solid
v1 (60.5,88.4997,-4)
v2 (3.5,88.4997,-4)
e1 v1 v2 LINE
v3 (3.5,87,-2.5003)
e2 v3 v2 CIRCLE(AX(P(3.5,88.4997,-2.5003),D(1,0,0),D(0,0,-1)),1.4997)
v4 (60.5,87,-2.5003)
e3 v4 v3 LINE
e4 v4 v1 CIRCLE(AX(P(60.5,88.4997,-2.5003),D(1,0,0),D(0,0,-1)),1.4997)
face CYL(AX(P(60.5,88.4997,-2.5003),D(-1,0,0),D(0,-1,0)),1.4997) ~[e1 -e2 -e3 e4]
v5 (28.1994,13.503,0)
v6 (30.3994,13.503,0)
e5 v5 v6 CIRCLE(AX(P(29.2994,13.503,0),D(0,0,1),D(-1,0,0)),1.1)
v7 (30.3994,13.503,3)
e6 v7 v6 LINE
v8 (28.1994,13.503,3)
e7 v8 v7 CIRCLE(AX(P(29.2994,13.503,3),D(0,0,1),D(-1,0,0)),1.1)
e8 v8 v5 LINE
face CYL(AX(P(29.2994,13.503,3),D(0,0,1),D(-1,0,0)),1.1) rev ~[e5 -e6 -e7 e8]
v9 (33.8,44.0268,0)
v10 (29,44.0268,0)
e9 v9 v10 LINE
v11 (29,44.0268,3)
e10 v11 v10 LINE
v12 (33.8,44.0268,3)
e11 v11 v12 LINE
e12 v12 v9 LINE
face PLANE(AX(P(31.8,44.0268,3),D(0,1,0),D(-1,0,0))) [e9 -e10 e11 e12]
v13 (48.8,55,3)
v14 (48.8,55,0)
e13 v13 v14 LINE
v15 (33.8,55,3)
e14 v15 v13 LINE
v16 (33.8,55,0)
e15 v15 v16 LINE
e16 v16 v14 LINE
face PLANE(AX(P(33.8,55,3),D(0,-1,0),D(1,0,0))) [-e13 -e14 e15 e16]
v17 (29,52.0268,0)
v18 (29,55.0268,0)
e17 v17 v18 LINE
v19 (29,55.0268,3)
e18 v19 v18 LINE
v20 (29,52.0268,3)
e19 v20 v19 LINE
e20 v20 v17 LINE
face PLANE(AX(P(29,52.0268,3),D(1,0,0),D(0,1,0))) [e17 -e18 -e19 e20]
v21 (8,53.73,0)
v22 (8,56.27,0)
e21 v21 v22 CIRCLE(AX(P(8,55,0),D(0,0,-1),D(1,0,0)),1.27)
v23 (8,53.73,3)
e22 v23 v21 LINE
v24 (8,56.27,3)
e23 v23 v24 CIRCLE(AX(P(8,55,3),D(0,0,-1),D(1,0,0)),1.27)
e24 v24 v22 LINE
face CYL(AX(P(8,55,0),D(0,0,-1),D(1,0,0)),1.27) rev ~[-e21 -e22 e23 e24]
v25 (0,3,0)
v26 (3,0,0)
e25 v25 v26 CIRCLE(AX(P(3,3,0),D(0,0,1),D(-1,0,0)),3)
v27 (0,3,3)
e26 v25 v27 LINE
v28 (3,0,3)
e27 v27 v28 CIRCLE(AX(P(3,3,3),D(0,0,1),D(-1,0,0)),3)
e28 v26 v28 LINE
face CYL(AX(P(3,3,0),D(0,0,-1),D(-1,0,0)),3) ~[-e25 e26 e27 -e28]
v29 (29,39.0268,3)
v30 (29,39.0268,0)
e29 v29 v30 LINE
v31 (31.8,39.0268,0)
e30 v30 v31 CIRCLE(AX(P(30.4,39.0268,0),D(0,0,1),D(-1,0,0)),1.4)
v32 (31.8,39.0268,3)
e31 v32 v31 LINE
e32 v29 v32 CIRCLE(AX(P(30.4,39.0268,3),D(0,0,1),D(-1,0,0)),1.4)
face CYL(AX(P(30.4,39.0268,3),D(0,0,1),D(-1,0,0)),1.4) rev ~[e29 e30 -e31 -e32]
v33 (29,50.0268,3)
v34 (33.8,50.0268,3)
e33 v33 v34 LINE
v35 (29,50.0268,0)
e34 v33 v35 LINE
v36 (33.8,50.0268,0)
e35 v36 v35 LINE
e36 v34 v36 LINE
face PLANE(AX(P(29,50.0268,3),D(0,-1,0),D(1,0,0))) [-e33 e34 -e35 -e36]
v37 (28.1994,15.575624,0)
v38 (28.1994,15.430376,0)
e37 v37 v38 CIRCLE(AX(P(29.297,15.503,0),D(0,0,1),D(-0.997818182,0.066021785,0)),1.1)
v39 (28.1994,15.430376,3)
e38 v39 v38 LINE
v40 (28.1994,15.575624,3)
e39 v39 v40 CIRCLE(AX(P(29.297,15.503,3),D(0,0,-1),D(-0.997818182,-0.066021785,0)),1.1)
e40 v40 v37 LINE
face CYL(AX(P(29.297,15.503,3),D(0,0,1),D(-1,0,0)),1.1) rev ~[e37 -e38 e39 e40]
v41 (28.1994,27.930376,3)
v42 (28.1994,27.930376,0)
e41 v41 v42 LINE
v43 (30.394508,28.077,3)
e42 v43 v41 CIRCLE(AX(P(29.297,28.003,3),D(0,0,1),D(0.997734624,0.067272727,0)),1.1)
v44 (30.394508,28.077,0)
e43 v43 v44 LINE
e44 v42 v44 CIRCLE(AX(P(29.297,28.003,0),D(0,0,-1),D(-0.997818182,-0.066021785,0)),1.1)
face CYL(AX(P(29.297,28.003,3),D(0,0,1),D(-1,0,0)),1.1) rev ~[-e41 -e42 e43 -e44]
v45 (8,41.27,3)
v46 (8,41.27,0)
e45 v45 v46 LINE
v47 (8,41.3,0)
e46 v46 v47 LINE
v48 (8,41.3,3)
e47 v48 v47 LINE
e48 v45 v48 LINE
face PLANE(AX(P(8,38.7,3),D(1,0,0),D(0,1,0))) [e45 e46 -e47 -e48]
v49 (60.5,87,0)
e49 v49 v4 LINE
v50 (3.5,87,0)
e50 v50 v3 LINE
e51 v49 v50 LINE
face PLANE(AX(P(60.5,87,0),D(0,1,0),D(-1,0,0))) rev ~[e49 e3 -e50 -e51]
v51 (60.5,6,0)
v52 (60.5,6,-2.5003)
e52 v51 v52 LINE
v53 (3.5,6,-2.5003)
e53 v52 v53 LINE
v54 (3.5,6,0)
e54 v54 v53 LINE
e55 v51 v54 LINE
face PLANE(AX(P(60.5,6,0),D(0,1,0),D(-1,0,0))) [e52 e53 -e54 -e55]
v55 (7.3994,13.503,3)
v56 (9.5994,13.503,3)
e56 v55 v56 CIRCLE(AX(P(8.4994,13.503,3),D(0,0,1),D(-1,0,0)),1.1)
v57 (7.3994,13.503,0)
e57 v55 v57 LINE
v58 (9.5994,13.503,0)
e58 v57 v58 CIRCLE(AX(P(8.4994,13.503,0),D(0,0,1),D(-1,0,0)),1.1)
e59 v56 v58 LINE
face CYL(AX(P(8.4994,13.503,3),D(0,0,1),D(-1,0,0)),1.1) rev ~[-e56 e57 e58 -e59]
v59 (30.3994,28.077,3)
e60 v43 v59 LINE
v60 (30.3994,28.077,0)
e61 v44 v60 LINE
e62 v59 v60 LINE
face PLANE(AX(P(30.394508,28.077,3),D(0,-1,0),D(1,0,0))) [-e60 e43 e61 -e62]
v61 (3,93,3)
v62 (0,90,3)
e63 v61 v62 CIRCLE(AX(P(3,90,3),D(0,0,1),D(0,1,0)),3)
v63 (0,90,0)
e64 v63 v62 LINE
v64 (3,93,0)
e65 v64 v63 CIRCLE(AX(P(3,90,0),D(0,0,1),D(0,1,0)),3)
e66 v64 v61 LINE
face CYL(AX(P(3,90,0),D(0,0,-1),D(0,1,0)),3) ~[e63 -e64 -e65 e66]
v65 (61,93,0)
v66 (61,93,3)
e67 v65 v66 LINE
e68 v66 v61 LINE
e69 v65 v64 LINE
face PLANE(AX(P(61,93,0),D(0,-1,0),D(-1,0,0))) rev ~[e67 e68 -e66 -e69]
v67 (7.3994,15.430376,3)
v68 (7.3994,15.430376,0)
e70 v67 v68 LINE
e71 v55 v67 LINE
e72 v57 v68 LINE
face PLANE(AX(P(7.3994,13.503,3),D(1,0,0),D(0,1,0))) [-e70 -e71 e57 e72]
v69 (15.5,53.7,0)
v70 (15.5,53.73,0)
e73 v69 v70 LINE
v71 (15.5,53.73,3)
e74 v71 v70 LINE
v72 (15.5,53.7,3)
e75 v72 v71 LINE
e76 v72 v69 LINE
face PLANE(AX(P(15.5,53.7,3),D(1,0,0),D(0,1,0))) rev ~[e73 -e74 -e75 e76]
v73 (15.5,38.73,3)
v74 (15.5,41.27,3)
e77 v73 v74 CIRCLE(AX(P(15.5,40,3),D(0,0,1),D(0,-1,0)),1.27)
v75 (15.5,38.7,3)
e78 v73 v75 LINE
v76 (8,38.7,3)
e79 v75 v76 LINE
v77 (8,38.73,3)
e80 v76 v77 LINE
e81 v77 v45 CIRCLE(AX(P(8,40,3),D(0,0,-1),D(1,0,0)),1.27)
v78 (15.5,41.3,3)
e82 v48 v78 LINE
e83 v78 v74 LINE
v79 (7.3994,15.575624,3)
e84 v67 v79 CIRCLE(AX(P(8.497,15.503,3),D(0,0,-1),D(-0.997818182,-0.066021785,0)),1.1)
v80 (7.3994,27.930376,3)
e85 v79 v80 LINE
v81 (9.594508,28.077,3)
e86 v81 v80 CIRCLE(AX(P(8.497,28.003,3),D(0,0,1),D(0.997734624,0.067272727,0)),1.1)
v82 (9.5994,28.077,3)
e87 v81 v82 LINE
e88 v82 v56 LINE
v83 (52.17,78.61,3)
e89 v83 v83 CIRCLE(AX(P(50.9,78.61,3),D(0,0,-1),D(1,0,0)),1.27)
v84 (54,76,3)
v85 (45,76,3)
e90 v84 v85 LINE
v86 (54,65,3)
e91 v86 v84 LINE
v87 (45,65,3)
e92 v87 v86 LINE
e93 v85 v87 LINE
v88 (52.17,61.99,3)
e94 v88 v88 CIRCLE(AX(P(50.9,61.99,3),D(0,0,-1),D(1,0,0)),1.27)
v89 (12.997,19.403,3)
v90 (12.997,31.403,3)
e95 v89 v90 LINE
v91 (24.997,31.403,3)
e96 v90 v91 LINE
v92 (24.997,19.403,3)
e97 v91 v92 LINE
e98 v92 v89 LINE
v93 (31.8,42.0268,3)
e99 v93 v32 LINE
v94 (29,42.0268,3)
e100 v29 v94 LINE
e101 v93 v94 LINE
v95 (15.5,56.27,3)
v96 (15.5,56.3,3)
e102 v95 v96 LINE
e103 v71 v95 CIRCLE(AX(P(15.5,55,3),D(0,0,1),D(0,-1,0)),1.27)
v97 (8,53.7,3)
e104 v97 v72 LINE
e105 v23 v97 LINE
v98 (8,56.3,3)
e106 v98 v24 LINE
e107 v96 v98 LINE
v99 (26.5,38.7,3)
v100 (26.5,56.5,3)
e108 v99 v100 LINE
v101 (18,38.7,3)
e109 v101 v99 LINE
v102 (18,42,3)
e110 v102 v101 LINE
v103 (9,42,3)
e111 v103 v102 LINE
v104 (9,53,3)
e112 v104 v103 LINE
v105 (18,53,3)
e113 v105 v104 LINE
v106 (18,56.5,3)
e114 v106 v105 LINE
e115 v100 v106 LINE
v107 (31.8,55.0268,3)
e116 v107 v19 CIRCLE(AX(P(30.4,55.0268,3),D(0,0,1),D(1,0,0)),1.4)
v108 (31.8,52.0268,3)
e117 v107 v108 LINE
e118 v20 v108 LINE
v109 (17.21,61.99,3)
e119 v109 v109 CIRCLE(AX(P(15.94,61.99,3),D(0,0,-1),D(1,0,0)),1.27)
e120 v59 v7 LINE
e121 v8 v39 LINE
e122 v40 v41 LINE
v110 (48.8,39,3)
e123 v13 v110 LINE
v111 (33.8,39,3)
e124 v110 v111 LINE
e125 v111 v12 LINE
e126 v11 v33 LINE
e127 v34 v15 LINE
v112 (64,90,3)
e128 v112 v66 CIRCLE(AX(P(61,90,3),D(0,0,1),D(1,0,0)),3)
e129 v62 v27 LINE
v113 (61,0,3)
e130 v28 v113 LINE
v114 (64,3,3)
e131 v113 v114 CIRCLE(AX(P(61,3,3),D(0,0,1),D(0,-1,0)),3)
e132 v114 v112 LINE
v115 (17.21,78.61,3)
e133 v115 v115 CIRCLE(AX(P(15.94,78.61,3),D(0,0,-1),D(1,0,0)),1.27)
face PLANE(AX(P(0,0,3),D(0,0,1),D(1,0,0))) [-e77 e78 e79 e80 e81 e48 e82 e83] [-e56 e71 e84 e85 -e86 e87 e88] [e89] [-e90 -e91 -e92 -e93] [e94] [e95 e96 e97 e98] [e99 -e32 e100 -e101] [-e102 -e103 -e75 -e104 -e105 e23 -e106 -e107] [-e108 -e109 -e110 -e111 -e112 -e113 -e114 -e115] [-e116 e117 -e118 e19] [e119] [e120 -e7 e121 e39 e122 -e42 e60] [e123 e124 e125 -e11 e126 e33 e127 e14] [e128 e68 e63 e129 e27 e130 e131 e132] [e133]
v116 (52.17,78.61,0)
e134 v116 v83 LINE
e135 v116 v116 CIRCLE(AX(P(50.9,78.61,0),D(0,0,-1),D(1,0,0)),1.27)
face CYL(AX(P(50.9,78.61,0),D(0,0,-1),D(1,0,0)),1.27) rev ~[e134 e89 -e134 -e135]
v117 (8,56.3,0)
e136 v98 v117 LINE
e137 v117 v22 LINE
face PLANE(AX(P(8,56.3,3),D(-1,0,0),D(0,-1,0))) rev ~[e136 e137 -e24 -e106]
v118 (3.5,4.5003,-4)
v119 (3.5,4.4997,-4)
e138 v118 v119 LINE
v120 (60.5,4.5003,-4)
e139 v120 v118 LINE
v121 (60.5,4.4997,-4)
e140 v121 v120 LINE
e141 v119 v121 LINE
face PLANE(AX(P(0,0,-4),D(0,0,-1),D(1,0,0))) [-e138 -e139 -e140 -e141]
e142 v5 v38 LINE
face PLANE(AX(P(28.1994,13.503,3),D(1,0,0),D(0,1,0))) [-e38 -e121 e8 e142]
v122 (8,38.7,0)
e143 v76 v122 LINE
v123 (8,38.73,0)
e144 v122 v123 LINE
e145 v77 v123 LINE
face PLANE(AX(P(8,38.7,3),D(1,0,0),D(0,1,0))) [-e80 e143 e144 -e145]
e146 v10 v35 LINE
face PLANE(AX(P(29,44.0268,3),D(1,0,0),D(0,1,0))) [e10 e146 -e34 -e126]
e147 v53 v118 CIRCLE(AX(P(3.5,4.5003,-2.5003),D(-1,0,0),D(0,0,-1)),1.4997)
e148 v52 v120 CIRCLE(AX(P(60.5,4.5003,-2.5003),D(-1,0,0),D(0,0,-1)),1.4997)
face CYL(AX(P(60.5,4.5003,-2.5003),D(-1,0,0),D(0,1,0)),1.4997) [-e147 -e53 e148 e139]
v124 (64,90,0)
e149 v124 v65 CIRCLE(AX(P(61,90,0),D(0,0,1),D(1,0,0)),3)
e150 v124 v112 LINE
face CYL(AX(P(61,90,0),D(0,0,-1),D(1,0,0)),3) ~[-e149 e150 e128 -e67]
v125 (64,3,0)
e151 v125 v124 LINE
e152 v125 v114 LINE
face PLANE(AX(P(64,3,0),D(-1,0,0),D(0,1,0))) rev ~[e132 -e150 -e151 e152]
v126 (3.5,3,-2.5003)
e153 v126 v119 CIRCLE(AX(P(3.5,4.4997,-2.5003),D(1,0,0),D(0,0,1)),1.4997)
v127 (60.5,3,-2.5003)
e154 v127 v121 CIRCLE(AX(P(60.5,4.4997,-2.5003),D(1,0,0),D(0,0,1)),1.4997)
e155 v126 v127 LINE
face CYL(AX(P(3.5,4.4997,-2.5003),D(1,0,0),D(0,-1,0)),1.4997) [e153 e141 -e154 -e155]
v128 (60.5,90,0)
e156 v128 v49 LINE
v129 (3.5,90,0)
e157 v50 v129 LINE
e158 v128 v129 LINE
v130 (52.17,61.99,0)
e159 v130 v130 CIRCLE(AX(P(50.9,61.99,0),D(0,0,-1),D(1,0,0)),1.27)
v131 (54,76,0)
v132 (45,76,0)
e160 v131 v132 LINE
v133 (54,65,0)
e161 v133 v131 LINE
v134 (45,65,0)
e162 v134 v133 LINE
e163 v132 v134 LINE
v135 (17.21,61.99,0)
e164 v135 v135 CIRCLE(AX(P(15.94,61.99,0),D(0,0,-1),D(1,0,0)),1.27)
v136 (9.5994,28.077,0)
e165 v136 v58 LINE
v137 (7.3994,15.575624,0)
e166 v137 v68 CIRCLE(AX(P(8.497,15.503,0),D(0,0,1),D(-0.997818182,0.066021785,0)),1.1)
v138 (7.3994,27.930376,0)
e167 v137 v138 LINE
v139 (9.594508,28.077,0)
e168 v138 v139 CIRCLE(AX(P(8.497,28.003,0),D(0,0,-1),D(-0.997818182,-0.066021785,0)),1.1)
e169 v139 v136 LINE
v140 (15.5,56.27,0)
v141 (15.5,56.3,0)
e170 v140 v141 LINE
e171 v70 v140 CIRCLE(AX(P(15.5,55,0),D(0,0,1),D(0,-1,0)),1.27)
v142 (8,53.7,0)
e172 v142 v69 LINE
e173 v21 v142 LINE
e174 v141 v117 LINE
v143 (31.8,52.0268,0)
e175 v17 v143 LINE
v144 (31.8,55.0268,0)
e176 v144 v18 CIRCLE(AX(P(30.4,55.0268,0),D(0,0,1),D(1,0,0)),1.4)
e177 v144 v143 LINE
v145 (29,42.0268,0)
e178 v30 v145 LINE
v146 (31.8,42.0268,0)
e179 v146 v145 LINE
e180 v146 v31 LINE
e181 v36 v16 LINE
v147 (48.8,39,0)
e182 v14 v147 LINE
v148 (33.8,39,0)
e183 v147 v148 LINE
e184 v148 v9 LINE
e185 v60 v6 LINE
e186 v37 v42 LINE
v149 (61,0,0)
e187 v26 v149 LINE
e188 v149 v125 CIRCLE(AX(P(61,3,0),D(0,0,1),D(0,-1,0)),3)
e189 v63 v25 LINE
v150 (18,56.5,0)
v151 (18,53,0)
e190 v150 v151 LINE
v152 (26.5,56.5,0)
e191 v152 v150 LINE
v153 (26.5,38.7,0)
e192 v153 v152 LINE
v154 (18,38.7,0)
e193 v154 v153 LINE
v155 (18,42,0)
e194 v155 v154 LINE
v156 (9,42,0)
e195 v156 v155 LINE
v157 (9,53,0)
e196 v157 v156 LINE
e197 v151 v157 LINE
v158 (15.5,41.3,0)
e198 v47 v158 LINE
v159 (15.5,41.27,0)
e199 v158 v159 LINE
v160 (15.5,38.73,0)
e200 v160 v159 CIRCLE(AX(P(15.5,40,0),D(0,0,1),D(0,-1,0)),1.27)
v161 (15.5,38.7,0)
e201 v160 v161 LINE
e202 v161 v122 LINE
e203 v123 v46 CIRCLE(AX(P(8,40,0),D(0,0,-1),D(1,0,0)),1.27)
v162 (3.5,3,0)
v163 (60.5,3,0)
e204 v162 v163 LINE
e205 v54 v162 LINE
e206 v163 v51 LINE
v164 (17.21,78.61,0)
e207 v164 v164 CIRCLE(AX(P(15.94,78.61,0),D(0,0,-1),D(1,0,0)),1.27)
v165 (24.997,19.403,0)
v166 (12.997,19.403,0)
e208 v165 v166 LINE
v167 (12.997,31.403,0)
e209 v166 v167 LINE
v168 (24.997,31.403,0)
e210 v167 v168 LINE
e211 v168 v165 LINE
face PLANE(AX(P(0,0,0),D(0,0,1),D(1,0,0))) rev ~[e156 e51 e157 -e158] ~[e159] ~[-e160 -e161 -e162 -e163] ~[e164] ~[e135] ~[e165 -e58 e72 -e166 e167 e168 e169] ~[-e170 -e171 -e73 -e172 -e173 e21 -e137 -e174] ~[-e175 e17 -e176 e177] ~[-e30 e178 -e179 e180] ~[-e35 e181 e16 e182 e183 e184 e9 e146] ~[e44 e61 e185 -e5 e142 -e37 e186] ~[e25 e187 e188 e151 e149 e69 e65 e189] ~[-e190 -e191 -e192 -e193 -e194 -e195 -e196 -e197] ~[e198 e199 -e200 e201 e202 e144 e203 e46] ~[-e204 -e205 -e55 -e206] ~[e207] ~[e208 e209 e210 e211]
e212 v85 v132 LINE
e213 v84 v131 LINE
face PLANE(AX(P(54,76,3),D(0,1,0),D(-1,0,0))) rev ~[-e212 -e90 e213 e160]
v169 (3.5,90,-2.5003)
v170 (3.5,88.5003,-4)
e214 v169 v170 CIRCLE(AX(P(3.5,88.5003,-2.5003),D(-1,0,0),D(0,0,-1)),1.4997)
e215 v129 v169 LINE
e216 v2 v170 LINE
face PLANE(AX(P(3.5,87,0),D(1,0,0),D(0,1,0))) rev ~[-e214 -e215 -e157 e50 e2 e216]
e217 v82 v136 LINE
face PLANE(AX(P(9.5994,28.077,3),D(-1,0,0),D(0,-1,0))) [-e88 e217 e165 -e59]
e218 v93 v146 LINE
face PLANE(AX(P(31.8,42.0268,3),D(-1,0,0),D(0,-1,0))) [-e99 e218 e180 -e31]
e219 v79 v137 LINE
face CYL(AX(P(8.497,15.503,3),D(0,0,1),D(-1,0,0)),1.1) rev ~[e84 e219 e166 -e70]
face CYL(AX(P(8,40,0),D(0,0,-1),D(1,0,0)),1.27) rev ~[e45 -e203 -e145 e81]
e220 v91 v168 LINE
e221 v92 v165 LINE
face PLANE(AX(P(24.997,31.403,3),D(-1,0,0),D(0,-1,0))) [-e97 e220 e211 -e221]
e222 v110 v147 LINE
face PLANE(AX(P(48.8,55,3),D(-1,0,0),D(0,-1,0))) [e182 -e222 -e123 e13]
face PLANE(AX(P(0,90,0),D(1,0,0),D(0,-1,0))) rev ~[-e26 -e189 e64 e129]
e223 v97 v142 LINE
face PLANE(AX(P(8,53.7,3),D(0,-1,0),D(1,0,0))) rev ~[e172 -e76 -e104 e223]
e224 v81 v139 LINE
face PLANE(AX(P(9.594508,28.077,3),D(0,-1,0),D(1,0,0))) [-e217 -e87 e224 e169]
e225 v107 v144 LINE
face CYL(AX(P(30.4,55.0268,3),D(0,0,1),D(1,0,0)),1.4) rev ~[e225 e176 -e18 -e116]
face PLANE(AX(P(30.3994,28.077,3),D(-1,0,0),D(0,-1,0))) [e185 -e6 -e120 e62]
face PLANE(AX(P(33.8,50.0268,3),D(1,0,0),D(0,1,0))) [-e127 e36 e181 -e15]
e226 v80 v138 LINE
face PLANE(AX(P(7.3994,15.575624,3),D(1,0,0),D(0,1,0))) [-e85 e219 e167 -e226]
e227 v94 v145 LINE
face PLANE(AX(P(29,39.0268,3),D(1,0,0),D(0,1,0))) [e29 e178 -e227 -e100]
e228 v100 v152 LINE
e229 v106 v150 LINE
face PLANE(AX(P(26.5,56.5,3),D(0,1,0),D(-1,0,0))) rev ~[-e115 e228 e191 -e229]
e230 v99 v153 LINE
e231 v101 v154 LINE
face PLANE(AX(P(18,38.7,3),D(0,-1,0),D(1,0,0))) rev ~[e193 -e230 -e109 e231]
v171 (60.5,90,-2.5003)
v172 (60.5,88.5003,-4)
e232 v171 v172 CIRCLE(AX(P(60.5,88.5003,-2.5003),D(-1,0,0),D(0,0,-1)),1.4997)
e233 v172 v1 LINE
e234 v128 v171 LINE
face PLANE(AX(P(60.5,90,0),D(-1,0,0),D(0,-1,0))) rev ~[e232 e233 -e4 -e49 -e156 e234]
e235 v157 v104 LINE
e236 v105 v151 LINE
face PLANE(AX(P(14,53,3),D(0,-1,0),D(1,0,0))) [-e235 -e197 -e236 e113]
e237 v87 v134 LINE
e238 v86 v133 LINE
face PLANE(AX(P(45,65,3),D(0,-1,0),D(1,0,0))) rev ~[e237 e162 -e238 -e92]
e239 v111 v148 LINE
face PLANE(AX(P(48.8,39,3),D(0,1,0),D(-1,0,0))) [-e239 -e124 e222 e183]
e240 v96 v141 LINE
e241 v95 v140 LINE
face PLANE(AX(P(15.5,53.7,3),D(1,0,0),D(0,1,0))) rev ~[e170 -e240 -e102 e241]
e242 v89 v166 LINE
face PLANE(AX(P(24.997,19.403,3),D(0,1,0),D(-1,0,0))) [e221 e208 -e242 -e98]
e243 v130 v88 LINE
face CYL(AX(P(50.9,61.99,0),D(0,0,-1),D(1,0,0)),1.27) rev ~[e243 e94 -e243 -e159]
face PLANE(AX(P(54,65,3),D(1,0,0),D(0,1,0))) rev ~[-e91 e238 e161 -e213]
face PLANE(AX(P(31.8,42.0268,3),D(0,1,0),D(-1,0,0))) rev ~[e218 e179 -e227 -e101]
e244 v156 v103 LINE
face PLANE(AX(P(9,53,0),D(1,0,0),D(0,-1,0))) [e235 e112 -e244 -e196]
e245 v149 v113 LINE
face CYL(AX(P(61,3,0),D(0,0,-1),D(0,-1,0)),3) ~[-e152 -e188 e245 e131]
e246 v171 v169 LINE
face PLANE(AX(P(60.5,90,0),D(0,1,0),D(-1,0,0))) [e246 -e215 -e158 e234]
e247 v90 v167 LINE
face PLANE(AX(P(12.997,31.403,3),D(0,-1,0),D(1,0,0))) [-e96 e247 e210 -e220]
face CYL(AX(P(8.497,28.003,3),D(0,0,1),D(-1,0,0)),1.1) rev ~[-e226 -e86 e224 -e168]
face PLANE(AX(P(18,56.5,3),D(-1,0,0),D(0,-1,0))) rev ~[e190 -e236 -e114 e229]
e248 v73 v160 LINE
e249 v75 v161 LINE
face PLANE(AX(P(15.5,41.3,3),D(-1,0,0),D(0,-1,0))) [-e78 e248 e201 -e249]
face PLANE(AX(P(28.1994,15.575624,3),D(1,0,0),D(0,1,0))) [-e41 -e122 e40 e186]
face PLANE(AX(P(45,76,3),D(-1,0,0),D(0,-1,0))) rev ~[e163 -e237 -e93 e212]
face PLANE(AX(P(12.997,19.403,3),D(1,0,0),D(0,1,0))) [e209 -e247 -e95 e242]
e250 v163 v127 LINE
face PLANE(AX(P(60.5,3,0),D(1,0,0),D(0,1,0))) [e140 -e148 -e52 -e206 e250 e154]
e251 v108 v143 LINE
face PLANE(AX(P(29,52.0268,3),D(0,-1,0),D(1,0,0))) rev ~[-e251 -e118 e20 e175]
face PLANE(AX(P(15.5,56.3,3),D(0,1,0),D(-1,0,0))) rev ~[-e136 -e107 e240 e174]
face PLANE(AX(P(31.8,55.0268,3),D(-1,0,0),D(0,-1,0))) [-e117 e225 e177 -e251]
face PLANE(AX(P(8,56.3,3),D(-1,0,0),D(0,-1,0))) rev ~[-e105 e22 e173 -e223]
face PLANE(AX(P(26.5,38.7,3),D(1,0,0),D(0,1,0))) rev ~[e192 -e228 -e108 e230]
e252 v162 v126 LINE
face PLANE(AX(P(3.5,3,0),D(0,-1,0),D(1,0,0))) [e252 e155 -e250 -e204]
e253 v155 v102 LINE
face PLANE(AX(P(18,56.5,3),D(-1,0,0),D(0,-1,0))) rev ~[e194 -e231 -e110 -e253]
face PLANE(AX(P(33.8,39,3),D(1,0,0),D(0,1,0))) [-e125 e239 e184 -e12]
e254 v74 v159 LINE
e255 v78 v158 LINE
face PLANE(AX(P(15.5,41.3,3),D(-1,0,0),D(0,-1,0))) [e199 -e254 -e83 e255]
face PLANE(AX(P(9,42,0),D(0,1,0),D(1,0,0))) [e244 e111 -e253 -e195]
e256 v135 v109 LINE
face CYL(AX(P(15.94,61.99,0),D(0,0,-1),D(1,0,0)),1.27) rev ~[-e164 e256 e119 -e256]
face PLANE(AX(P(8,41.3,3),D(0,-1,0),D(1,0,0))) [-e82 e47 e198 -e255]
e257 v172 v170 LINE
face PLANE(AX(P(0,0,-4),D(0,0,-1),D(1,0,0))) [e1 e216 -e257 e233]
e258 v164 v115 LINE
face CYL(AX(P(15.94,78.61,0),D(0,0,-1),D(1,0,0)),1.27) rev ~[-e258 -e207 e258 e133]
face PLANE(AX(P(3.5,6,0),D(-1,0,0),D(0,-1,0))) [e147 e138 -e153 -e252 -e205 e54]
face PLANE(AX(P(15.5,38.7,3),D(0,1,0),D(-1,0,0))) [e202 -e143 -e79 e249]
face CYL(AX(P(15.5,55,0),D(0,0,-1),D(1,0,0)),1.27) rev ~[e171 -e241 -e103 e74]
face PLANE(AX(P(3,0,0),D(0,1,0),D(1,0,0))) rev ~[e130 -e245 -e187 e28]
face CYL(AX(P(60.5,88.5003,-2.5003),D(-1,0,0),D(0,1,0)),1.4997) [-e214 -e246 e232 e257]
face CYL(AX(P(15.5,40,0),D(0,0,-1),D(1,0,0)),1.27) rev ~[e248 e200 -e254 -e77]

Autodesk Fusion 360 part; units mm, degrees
sketch "Sketch5" plane through (0, 0, 0) normal (0, 0, 1) x (1, 0, 0)
  line L0 (3, 0) -> (61, 0)
  line L1 (64, 3) -> (64, 90)
  line L2 (61, 93) -> (3, 93)
  line L3 (0, 90) -> (0, 3)
  arc A0 (0, 3) -> (3, 0) centre (3, 3) ccw
  arc A1 (3, 93) -> (0, 90) centre (3, 90) ccw
  arc A2 (64, 90) -> (61, 93) centre (61, 90) ccw
  arc A3 (61, 0) -> (64, 3) centre (61, 3) ccw
  point P0 (64, 0)
  point P1 (0, 93)
  dimension "d27" = 64
  dimension "d28" = 93
  dimension "d29" = 3
extrude "Extrude5" add sketch "Sketch5" along normal blind 3
sketch "Sketch6" plane through (0, 0, 0) normal (0, 0, -1) x (1, 0, 0)
  arc A0 (64, -3) -> (61, 0) centre (61, -3) ccw
  line L0 (61, 0) -> (3, 0)
  arc A1 (3, 0) -> (0, -3) centre (3, -3) ccw
  line L1 (0, -3) -> (0, -90)
  arc A2 (0, -90) -> (3, -93) centre (3, -90) ccw
  line L2 (3, -93) -> (61, -93)
  arc A3 (61, -93) -> (64, -90) centre (61, -90) ccw
  line L3 (64, -90) -> (64, -3)
  line L4 (3, -3) -> (61, -3)
  line L5 (61, -3) -> (61, -90)
  line L6 (61, -90) -> (3, -90)
  line L7 (3, -90) -> (3, -3)
  line L8 (3.5, -3) -> (60.5, -3)
  line L9 (60.5, -3) -> (60.5, -6)
  line L10 (60.5, -6) -> (3.5, -6)
  line L11 (3.5, -6) -> (3.5, -3)
  line L12 (3.5, -90) -> (60.5, -90)
  line L13 (60.5, -90) -> (60.5, -87)
  line L14 (60.5, -87) -> (3.5, -87)
  line L15 (3.5, -87) -> (3.5, -90)
  dimension "d32" = 58
  dimension "d33" = 87
  dimension "d34" = 3
  dimension "d35" = 3
  dimension "d36" = 57
  dimension "d37" = 3
  dimension "d38" = 0.5
  dimension "d39" = 57
  dimension "d40" = 3
  dimension "d151" = 0.5
extrude "Extrude6" add sketch "Sketch6" along normal blind 4 contours L4 L8 L9 L10 L11 | L6 L12 L13 L14 L15
sketch "Sketch8" plane through (0, 0, 0) normal (0, 0, -1) x (1, 0, 0)
  line L0 (3.5, -6) -> (3.5, -3)
  line L1 (3.5, -3) -> (60.5, -3)
  line L2 (60.5, -3) -> (60.5, -6)
  line L3 (60.5, -6) -> (3.5, -6)
  line L4 (3.5, -87) -> (60.5, -87)
  line L5 (60.5, -87) -> (60.5, -90)
  line L6 (60.5, -90) -> (3.5, -90)
  line L7 (3.5, -90) -> (3.5, -87)
  arc A0 (64, -3) -> (61, 0) centre (61, -3) ccw
  line L8 (61, 0) -> (3, 0)
  arc A1 (3, 0) -> (0, -3) centre (3, -3) ccw
  line L9 (0, -3) -> (0, -90)
  arc A2 (0, -90) -> (3, -93) centre (3, -90) ccw
  line L10 (3, -93) -> (61, -93)
  arc A3 (61, -93) -> (64, -90) centre (61, -90) ccw
  line L11 (64, -90) -> (64, -3)
  circle A4 centre (15.94, -61.99) radius 1.27
  circle A5 centre (15.94, -78.61) radius 1.27
  circle A6 centre (50.9, -78.61) radius 1.27
  circle A7 centre (50.9, -61.99) radius 1.27
  line L12 (64, -81) -> (0, -81)
  line L13 (0, -81) -> (0, -59.6)
  line L14 (0, -59.6) -> (64, -59.6)
  line L15 (64, -59.6) -> (64, -81)
  dimension "d52" = 2.54
  dimension "d55" = 2.54
  dimension "d58" = 2.54
  dimension "d61" = 2.54
  dimension "d85" = 64
  dimension "d86" = 21.4
  dimension "d87" = 6
  dimension "d92" = 2.39
  dimension "d93" = 2.39
  dimension "d96" = 2.39
  dimension "d97" = 15.94
  dimension "d98" = 2.39
  dimension "d99" = 15.94
  dimension "d100" = 50.9
  dimension "d101" = 50.9
extrude "Extrude8" cut sketch "Sketch8" against normal blind 3 contours A4 | A5 | A6 | A7
sketch "Sketch9" plane through (0, 0, 0) normal (0, 0, -1) x (1, 0, 0)
  circle A0 centre (50.9, -61.99) radius 1.27
  circle A1 centre (50.9, -78.61) radius 1.27
  circle A2 centre (15.94, -61.99) radius 1.27
  circle A3 centre (15.94, -78.61) radius 1.27
  line L0 (3.5, -6) -> (3.5, -3)
  line L1 (3.5, -3) -> (60.5, -3)
  line L2 (60.5, -3) -> (60.5, -6)
  line L3 (60.5, -6) -> (3.5, -6)
  line L4 (3.5, -87) -> (60.5, -87)
  line L5 (60.5, -87) -> (60.5, -90)
  line L6 (60.5, -90) -> (3.5, -90)
  line L7 (3.5, -90) -> (3.5, -87)
  arc A4 (64, -3) -> (61, 0) centre (61, -3) ccw
  line L8 (61, 0) -> (3, 0)
  arc A5 (3, 0) -> (0, -3) centre (3, -3) ccw
  line L9 (0, -3) -> (0, -90)
  arc A6 (0, -90) -> (3, -93) centre (3, -90) ccw
  line L10 (3, -93) -> (61, -93)
  arc A7 (61, -93) -> (64, -90) centre (61, -90) ccw
  line L11 (64, -90) -> (64, -3)
  circle A8 centre (8, -40) radius 1.27
  circle A9 centre (8, -55) radius 1.27
  circle A10 centre (15.5, -40) radius 1.27
  circle A11 centre (15.5, -55) radius 1.27
  line L12 (9, -42) -> (14, -42)
  line L13 (14, -42) -> (14, -53)
  line L14 (14, -53) -> (9, -53)
  line L15 (9, -53) -> (9, -42)
  line L16 (14, -53) -> (22.5, -53)
  line L17 (22.5, -53) -> (22.5, -42)
  line L18 (22.5, -42) -> (14, -42)
  line L19 (14, -42) -> (14, -53)
  dimension "d70" = 2.54
  dimension "d73" = 2.54
  dimension "d76" = 2.54
  dimension "d79" = 2.54
extrude "Extrude9" cut sketch "Sketch9" against normal blind 3 contours A8 | A9 | A10 | A11 | L12 L13 L14 L15 L19
fillet "Fillet5" radius 1.5 4 edges at (32, 3, -4) (32, 6, -4) (32, 87, -4) (32, 90, -4)
sketch "Sketch11" plane through (0, 0, 3) normal (0, 0, 1) x (-1, 0, 0)
  circle A0 centre (-50.9, -61.99) radius 1.27
  circle A1 centre (-50.9, -78.61) radius 1.27
  circle A2 centre (-15.94, -61.99) radius 1.27
  circle A3 centre (-15.94, -78.61) radius 1.27
  arc A4 (-61, 0) -> (-64, -3) centre (-61, -3) ccw
  line L0 (-64, -3) -> (-64, -90)
  arc A5 (-64, -90) -> (-61, -93) centre (-61, -90) ccw
  line L1 (-61, -93) -> (-3, -93)
  arc A6 (-3, -93) -> (0, -90) centre (-3, -90) ccw
  line L2 (0, -90) -> (0, -3)
  arc A7 (0, -3) -> (-3, 0) centre (-3, -3) ccw
  line L3 (-3, 0) -> (-61, 0)
  line L4 (-14, -53) -> (-14, -42)
  line L5 (-14, -42) -> (-9, -42)
  line L6 (-9, -42) -> (-9, -53)
  line L7 (-9, -53) -> (-14, -53)
  circle A8 centre (-15.5, -40) radius 1.27
  circle A9 centre (-8, -55) radius 1.27
  circle A10 centre (-8, -40) radius 1.27
  circle A11 centre (-15.5, -55) radius 1.27
sketch "Sketch12" plane through (0, 0, 3) normal (0, 0, 1) x (-1, 0, 0)
  line L0 (-6.497, -13.503) -> (-6.497, -37.303)
  line L1 (-6.497, -37.303) -> (-31.497, -37.303)
  line L2 (-31.497, -37.303) -> (-31.497, -13.503)
  line L3 (-31.497, -13.503) -> (-6.497, -13.503)
  circle A0 centre (-8.497, -15.503) radius 1.1
  circle A1 centre (-29.297, -15.503) radius 1.1
  circle A2 centre (-8.497, -28.003) radius 1.1
  circle A3 centre (-29.297, -28.003) radius 1.1
  line L4 (-12.997, -19.403) -> (-12.997, -31.403)
  line L5 (-12.997, -31.403) -> (-24.997, -31.403)
  line L6 (-24.997, -31.403) -> (-24.997, -19.403)
  line L7 (-24.997, -19.403) -> (-12.997, -19.403)
  line L8 (-8, -41.3) -> (-15.5, -41.3)
  line L9 (-15.5, -41.3) -> (-15.5, -38.7)
  line L10 (-15.5, -38.7) -> (-8, -38.7)
  line L11 (-8, -38.7) -> (-8, -41.3)
  line L12 (-15.5, -56.3) -> (-8, -56.3)
  line L13 (-8, -56.3) -> (-8, -53.7)
  line L14 (-8, -53.7) -> (-15.5, -53.7)
  line L15 (-15.5, -53.7) -> (-15.5, -56.3)
  line L16 (-54, -76) -> (-45, -76)
  line L17 (-45, -76) -> (-45, -65)
  line L18 (-45, -65) -> (-54, -65)
  line L19 (-54, -65) -> (-54, -76)
  line L20 (-7.3994, -28.077) -> (-9.5994, -28.077)
  line L21 (-9.5994, -28.077) -> (-9.5994, -13.503)
  line L22 (-9.5994, -13.503) -> (-7.3994, -13.503)
  line L23 (-7.3994, -13.503) -> (-7.3994, -28.077)
  line L24 (-28.1994, -28.077) -> (-30.3994, -28.077)
  line L25 (-30.3994, -28.077) -> (-30.3994, -13.503)
  line L26 (-30.3994, -13.503) -> (-28.1994, -13.503)
  line L27 (-28.1994, -13.503) -> (-28.1994, -28.077)
  arc A4 (-7.3994, -13.503) -> (-9.5994, -13.503) centre (-8.4994, -13.503) ccw
  arc A5 (-28.1994, -13.503) -> (-30.3994, -13.503) centre (-29.2994, -13.503) ccw
  dimension "d106" = 23.8
  dimension "d107" = 25
  dimension "d108" = 2.2
  dimension "d109" = 2
  dimension "d110" = 2
  dimension "d111" = 2.2
  dimension "d112" = 2
  dimension "d113" = 2.2
  dimension "d114" = 2.2
  dimension "d115" = 2
  dimension "d116" = 14.5
  dimension "d117" = 2.2
  dimension "d118" = 2.2
  dimension "d119" = 14.5
  dimension "d120" = 12
  dimension "d121" = 12
  dimension "d122" = 6.5
  dimension "d123" = 5.9
  dimension "d143" = 2.2
  dimension "d144" = 14.574
  dimension "d145" = 2.2
  dimension "d146" = 14.574
extrude "Extrude10" cut sketch "Sketch12" against normal blind 3 contours L3 A0 A2 L20 L21 L22 L23 | L3 L22 A4 | A0 L23 | A0 L23 | L3 A1 A3 L24 L25 L26 L27 | L3 L26 A5 | A1 L27 | A1 L27 | A2 L20 | A2 L20 L23 | A2 L23 | A3 L24 | A3 L24 L27 | A3 L27 | L4 L5 L6 L7
sketch "Sketch13" plane through (0, 0, 3) normal (0, 0, 1) x (-1, 0, 0)
  line L0 (-29, -55.0268) -> (-31.8, -55.0268)
  line L1 (-31.8, -55.0268) -> (-31.8, -39.0268)
  line L2 (-31.8, -39.0268) -> (-29, -39.0268)
  line L3 (-29, -39.0268) -> (-29, -55.0268)
  arc A0 (-31.8, -55.0268) -> (-29, -55.0268) centre (-30.4, -55.0268) ccw
  arc A1 (-29, -39.0268) -> (-31.8, -39.0268) centre (-30.4, -39.0268) ccw
  line L4 (-33.8, -55) -> (-48.8, -55)
  line L5 (-48.8, -55) -> (-48.8, -39)
  line L6 (-48.8, -39) -> (-33.8, -39)
  line L7 (-33.8, -39) -> (-33.8, -55)
  line L8 (-14, -42) -> (-14, -53)
  line L9 (-29, -50.0268) -> (-31.8, -50.0268)
  line L10 (-31.8, -50.0268) -> (-31.8, -44.0268)
  line L11 (-31.8, -44.0268) -> (-29, -44.0268)
  line L12 (-29, -44.0268) -> (-29, -50.0268)
  line L13 (-29, -52.0268) -> (-31.8, -52.0268)
  line L14 (-31.8, -52.0268) -> (-31.8, -42.0268)
  line L15 (-31.8, -42.0268) -> (-29, -42.0268)
  line L16 (-29, -42.0268) -> (-29, -52.0268)
  line L17 (-31.8, -50.0268) -> (-33.8, -50.0268)
  line L18 (-33.8, -50.0268) -> (-33.8, -44.0268)
  line L19 (-33.8, -44.0268) -> (-31.8, -44.0268)
  line L20 (-31.8, -44.0268) -> (-31.8, -50.0268)
  line L21 (-14, -53) -> (-21.5354, -53)
  line L22 (-21.5354, -53) -> (-21.5354, -42)
  line L23 (-21.5354, -42) -> (-14, -42)
  line L24 (-14, -42) -> (-14, -53)
  dimension "d126" = 2.8
  dimension "d127" = 16
  dimension "d128" = 15
  dimension "d129" = 16
  dimension "d130" = 2
  dimension "d133" = 15
  dimension "d134" = 6
  dimension "d135" = 5
  dimension "d136" = 2.8
  dimension "d137" = 10
  dimension "d138" = 3
extrude "Extrude12" cut sketch "Sketch13" against normal blind 3 contours L0 A0 | L0 L1 L3 L13 | L1 L3 L9 L10 L11 L12 L14 L16 L20 | L1 L7 L10 L14 L17 L18 L19 L20 | L4 L5 L6 L7 L18 | L1 L2 L3 L15 | L2 A1
extrude "Extrude13" cut sketch "Sketch12" against normal blind 3 contours L8 L9 L10 L11 | L12 L13 L14 L15 | L16 L17 L18 L19
extrude "Extrude14" cut sketch "Sketch13" against normal blind 3 contours L8 L21 L22 L23 L24
sketch "Sketch14" plane through (0, 0, 3) normal (0, 0, 1) x (-1, 0, 0)
  line L0 (-18, -38.7) -> (-26.5, -38.7)
  line L1 (-26.5, -38.7) -> (-26.5, -56.5)
  line L2 (-26.5, -56.5) -> (-18, -56.5)
  line L3 (-18, -56.5) -> (-18, -38.7)
extrude "Extrude15" cut sketch "Sketch14" against normal blind 3
